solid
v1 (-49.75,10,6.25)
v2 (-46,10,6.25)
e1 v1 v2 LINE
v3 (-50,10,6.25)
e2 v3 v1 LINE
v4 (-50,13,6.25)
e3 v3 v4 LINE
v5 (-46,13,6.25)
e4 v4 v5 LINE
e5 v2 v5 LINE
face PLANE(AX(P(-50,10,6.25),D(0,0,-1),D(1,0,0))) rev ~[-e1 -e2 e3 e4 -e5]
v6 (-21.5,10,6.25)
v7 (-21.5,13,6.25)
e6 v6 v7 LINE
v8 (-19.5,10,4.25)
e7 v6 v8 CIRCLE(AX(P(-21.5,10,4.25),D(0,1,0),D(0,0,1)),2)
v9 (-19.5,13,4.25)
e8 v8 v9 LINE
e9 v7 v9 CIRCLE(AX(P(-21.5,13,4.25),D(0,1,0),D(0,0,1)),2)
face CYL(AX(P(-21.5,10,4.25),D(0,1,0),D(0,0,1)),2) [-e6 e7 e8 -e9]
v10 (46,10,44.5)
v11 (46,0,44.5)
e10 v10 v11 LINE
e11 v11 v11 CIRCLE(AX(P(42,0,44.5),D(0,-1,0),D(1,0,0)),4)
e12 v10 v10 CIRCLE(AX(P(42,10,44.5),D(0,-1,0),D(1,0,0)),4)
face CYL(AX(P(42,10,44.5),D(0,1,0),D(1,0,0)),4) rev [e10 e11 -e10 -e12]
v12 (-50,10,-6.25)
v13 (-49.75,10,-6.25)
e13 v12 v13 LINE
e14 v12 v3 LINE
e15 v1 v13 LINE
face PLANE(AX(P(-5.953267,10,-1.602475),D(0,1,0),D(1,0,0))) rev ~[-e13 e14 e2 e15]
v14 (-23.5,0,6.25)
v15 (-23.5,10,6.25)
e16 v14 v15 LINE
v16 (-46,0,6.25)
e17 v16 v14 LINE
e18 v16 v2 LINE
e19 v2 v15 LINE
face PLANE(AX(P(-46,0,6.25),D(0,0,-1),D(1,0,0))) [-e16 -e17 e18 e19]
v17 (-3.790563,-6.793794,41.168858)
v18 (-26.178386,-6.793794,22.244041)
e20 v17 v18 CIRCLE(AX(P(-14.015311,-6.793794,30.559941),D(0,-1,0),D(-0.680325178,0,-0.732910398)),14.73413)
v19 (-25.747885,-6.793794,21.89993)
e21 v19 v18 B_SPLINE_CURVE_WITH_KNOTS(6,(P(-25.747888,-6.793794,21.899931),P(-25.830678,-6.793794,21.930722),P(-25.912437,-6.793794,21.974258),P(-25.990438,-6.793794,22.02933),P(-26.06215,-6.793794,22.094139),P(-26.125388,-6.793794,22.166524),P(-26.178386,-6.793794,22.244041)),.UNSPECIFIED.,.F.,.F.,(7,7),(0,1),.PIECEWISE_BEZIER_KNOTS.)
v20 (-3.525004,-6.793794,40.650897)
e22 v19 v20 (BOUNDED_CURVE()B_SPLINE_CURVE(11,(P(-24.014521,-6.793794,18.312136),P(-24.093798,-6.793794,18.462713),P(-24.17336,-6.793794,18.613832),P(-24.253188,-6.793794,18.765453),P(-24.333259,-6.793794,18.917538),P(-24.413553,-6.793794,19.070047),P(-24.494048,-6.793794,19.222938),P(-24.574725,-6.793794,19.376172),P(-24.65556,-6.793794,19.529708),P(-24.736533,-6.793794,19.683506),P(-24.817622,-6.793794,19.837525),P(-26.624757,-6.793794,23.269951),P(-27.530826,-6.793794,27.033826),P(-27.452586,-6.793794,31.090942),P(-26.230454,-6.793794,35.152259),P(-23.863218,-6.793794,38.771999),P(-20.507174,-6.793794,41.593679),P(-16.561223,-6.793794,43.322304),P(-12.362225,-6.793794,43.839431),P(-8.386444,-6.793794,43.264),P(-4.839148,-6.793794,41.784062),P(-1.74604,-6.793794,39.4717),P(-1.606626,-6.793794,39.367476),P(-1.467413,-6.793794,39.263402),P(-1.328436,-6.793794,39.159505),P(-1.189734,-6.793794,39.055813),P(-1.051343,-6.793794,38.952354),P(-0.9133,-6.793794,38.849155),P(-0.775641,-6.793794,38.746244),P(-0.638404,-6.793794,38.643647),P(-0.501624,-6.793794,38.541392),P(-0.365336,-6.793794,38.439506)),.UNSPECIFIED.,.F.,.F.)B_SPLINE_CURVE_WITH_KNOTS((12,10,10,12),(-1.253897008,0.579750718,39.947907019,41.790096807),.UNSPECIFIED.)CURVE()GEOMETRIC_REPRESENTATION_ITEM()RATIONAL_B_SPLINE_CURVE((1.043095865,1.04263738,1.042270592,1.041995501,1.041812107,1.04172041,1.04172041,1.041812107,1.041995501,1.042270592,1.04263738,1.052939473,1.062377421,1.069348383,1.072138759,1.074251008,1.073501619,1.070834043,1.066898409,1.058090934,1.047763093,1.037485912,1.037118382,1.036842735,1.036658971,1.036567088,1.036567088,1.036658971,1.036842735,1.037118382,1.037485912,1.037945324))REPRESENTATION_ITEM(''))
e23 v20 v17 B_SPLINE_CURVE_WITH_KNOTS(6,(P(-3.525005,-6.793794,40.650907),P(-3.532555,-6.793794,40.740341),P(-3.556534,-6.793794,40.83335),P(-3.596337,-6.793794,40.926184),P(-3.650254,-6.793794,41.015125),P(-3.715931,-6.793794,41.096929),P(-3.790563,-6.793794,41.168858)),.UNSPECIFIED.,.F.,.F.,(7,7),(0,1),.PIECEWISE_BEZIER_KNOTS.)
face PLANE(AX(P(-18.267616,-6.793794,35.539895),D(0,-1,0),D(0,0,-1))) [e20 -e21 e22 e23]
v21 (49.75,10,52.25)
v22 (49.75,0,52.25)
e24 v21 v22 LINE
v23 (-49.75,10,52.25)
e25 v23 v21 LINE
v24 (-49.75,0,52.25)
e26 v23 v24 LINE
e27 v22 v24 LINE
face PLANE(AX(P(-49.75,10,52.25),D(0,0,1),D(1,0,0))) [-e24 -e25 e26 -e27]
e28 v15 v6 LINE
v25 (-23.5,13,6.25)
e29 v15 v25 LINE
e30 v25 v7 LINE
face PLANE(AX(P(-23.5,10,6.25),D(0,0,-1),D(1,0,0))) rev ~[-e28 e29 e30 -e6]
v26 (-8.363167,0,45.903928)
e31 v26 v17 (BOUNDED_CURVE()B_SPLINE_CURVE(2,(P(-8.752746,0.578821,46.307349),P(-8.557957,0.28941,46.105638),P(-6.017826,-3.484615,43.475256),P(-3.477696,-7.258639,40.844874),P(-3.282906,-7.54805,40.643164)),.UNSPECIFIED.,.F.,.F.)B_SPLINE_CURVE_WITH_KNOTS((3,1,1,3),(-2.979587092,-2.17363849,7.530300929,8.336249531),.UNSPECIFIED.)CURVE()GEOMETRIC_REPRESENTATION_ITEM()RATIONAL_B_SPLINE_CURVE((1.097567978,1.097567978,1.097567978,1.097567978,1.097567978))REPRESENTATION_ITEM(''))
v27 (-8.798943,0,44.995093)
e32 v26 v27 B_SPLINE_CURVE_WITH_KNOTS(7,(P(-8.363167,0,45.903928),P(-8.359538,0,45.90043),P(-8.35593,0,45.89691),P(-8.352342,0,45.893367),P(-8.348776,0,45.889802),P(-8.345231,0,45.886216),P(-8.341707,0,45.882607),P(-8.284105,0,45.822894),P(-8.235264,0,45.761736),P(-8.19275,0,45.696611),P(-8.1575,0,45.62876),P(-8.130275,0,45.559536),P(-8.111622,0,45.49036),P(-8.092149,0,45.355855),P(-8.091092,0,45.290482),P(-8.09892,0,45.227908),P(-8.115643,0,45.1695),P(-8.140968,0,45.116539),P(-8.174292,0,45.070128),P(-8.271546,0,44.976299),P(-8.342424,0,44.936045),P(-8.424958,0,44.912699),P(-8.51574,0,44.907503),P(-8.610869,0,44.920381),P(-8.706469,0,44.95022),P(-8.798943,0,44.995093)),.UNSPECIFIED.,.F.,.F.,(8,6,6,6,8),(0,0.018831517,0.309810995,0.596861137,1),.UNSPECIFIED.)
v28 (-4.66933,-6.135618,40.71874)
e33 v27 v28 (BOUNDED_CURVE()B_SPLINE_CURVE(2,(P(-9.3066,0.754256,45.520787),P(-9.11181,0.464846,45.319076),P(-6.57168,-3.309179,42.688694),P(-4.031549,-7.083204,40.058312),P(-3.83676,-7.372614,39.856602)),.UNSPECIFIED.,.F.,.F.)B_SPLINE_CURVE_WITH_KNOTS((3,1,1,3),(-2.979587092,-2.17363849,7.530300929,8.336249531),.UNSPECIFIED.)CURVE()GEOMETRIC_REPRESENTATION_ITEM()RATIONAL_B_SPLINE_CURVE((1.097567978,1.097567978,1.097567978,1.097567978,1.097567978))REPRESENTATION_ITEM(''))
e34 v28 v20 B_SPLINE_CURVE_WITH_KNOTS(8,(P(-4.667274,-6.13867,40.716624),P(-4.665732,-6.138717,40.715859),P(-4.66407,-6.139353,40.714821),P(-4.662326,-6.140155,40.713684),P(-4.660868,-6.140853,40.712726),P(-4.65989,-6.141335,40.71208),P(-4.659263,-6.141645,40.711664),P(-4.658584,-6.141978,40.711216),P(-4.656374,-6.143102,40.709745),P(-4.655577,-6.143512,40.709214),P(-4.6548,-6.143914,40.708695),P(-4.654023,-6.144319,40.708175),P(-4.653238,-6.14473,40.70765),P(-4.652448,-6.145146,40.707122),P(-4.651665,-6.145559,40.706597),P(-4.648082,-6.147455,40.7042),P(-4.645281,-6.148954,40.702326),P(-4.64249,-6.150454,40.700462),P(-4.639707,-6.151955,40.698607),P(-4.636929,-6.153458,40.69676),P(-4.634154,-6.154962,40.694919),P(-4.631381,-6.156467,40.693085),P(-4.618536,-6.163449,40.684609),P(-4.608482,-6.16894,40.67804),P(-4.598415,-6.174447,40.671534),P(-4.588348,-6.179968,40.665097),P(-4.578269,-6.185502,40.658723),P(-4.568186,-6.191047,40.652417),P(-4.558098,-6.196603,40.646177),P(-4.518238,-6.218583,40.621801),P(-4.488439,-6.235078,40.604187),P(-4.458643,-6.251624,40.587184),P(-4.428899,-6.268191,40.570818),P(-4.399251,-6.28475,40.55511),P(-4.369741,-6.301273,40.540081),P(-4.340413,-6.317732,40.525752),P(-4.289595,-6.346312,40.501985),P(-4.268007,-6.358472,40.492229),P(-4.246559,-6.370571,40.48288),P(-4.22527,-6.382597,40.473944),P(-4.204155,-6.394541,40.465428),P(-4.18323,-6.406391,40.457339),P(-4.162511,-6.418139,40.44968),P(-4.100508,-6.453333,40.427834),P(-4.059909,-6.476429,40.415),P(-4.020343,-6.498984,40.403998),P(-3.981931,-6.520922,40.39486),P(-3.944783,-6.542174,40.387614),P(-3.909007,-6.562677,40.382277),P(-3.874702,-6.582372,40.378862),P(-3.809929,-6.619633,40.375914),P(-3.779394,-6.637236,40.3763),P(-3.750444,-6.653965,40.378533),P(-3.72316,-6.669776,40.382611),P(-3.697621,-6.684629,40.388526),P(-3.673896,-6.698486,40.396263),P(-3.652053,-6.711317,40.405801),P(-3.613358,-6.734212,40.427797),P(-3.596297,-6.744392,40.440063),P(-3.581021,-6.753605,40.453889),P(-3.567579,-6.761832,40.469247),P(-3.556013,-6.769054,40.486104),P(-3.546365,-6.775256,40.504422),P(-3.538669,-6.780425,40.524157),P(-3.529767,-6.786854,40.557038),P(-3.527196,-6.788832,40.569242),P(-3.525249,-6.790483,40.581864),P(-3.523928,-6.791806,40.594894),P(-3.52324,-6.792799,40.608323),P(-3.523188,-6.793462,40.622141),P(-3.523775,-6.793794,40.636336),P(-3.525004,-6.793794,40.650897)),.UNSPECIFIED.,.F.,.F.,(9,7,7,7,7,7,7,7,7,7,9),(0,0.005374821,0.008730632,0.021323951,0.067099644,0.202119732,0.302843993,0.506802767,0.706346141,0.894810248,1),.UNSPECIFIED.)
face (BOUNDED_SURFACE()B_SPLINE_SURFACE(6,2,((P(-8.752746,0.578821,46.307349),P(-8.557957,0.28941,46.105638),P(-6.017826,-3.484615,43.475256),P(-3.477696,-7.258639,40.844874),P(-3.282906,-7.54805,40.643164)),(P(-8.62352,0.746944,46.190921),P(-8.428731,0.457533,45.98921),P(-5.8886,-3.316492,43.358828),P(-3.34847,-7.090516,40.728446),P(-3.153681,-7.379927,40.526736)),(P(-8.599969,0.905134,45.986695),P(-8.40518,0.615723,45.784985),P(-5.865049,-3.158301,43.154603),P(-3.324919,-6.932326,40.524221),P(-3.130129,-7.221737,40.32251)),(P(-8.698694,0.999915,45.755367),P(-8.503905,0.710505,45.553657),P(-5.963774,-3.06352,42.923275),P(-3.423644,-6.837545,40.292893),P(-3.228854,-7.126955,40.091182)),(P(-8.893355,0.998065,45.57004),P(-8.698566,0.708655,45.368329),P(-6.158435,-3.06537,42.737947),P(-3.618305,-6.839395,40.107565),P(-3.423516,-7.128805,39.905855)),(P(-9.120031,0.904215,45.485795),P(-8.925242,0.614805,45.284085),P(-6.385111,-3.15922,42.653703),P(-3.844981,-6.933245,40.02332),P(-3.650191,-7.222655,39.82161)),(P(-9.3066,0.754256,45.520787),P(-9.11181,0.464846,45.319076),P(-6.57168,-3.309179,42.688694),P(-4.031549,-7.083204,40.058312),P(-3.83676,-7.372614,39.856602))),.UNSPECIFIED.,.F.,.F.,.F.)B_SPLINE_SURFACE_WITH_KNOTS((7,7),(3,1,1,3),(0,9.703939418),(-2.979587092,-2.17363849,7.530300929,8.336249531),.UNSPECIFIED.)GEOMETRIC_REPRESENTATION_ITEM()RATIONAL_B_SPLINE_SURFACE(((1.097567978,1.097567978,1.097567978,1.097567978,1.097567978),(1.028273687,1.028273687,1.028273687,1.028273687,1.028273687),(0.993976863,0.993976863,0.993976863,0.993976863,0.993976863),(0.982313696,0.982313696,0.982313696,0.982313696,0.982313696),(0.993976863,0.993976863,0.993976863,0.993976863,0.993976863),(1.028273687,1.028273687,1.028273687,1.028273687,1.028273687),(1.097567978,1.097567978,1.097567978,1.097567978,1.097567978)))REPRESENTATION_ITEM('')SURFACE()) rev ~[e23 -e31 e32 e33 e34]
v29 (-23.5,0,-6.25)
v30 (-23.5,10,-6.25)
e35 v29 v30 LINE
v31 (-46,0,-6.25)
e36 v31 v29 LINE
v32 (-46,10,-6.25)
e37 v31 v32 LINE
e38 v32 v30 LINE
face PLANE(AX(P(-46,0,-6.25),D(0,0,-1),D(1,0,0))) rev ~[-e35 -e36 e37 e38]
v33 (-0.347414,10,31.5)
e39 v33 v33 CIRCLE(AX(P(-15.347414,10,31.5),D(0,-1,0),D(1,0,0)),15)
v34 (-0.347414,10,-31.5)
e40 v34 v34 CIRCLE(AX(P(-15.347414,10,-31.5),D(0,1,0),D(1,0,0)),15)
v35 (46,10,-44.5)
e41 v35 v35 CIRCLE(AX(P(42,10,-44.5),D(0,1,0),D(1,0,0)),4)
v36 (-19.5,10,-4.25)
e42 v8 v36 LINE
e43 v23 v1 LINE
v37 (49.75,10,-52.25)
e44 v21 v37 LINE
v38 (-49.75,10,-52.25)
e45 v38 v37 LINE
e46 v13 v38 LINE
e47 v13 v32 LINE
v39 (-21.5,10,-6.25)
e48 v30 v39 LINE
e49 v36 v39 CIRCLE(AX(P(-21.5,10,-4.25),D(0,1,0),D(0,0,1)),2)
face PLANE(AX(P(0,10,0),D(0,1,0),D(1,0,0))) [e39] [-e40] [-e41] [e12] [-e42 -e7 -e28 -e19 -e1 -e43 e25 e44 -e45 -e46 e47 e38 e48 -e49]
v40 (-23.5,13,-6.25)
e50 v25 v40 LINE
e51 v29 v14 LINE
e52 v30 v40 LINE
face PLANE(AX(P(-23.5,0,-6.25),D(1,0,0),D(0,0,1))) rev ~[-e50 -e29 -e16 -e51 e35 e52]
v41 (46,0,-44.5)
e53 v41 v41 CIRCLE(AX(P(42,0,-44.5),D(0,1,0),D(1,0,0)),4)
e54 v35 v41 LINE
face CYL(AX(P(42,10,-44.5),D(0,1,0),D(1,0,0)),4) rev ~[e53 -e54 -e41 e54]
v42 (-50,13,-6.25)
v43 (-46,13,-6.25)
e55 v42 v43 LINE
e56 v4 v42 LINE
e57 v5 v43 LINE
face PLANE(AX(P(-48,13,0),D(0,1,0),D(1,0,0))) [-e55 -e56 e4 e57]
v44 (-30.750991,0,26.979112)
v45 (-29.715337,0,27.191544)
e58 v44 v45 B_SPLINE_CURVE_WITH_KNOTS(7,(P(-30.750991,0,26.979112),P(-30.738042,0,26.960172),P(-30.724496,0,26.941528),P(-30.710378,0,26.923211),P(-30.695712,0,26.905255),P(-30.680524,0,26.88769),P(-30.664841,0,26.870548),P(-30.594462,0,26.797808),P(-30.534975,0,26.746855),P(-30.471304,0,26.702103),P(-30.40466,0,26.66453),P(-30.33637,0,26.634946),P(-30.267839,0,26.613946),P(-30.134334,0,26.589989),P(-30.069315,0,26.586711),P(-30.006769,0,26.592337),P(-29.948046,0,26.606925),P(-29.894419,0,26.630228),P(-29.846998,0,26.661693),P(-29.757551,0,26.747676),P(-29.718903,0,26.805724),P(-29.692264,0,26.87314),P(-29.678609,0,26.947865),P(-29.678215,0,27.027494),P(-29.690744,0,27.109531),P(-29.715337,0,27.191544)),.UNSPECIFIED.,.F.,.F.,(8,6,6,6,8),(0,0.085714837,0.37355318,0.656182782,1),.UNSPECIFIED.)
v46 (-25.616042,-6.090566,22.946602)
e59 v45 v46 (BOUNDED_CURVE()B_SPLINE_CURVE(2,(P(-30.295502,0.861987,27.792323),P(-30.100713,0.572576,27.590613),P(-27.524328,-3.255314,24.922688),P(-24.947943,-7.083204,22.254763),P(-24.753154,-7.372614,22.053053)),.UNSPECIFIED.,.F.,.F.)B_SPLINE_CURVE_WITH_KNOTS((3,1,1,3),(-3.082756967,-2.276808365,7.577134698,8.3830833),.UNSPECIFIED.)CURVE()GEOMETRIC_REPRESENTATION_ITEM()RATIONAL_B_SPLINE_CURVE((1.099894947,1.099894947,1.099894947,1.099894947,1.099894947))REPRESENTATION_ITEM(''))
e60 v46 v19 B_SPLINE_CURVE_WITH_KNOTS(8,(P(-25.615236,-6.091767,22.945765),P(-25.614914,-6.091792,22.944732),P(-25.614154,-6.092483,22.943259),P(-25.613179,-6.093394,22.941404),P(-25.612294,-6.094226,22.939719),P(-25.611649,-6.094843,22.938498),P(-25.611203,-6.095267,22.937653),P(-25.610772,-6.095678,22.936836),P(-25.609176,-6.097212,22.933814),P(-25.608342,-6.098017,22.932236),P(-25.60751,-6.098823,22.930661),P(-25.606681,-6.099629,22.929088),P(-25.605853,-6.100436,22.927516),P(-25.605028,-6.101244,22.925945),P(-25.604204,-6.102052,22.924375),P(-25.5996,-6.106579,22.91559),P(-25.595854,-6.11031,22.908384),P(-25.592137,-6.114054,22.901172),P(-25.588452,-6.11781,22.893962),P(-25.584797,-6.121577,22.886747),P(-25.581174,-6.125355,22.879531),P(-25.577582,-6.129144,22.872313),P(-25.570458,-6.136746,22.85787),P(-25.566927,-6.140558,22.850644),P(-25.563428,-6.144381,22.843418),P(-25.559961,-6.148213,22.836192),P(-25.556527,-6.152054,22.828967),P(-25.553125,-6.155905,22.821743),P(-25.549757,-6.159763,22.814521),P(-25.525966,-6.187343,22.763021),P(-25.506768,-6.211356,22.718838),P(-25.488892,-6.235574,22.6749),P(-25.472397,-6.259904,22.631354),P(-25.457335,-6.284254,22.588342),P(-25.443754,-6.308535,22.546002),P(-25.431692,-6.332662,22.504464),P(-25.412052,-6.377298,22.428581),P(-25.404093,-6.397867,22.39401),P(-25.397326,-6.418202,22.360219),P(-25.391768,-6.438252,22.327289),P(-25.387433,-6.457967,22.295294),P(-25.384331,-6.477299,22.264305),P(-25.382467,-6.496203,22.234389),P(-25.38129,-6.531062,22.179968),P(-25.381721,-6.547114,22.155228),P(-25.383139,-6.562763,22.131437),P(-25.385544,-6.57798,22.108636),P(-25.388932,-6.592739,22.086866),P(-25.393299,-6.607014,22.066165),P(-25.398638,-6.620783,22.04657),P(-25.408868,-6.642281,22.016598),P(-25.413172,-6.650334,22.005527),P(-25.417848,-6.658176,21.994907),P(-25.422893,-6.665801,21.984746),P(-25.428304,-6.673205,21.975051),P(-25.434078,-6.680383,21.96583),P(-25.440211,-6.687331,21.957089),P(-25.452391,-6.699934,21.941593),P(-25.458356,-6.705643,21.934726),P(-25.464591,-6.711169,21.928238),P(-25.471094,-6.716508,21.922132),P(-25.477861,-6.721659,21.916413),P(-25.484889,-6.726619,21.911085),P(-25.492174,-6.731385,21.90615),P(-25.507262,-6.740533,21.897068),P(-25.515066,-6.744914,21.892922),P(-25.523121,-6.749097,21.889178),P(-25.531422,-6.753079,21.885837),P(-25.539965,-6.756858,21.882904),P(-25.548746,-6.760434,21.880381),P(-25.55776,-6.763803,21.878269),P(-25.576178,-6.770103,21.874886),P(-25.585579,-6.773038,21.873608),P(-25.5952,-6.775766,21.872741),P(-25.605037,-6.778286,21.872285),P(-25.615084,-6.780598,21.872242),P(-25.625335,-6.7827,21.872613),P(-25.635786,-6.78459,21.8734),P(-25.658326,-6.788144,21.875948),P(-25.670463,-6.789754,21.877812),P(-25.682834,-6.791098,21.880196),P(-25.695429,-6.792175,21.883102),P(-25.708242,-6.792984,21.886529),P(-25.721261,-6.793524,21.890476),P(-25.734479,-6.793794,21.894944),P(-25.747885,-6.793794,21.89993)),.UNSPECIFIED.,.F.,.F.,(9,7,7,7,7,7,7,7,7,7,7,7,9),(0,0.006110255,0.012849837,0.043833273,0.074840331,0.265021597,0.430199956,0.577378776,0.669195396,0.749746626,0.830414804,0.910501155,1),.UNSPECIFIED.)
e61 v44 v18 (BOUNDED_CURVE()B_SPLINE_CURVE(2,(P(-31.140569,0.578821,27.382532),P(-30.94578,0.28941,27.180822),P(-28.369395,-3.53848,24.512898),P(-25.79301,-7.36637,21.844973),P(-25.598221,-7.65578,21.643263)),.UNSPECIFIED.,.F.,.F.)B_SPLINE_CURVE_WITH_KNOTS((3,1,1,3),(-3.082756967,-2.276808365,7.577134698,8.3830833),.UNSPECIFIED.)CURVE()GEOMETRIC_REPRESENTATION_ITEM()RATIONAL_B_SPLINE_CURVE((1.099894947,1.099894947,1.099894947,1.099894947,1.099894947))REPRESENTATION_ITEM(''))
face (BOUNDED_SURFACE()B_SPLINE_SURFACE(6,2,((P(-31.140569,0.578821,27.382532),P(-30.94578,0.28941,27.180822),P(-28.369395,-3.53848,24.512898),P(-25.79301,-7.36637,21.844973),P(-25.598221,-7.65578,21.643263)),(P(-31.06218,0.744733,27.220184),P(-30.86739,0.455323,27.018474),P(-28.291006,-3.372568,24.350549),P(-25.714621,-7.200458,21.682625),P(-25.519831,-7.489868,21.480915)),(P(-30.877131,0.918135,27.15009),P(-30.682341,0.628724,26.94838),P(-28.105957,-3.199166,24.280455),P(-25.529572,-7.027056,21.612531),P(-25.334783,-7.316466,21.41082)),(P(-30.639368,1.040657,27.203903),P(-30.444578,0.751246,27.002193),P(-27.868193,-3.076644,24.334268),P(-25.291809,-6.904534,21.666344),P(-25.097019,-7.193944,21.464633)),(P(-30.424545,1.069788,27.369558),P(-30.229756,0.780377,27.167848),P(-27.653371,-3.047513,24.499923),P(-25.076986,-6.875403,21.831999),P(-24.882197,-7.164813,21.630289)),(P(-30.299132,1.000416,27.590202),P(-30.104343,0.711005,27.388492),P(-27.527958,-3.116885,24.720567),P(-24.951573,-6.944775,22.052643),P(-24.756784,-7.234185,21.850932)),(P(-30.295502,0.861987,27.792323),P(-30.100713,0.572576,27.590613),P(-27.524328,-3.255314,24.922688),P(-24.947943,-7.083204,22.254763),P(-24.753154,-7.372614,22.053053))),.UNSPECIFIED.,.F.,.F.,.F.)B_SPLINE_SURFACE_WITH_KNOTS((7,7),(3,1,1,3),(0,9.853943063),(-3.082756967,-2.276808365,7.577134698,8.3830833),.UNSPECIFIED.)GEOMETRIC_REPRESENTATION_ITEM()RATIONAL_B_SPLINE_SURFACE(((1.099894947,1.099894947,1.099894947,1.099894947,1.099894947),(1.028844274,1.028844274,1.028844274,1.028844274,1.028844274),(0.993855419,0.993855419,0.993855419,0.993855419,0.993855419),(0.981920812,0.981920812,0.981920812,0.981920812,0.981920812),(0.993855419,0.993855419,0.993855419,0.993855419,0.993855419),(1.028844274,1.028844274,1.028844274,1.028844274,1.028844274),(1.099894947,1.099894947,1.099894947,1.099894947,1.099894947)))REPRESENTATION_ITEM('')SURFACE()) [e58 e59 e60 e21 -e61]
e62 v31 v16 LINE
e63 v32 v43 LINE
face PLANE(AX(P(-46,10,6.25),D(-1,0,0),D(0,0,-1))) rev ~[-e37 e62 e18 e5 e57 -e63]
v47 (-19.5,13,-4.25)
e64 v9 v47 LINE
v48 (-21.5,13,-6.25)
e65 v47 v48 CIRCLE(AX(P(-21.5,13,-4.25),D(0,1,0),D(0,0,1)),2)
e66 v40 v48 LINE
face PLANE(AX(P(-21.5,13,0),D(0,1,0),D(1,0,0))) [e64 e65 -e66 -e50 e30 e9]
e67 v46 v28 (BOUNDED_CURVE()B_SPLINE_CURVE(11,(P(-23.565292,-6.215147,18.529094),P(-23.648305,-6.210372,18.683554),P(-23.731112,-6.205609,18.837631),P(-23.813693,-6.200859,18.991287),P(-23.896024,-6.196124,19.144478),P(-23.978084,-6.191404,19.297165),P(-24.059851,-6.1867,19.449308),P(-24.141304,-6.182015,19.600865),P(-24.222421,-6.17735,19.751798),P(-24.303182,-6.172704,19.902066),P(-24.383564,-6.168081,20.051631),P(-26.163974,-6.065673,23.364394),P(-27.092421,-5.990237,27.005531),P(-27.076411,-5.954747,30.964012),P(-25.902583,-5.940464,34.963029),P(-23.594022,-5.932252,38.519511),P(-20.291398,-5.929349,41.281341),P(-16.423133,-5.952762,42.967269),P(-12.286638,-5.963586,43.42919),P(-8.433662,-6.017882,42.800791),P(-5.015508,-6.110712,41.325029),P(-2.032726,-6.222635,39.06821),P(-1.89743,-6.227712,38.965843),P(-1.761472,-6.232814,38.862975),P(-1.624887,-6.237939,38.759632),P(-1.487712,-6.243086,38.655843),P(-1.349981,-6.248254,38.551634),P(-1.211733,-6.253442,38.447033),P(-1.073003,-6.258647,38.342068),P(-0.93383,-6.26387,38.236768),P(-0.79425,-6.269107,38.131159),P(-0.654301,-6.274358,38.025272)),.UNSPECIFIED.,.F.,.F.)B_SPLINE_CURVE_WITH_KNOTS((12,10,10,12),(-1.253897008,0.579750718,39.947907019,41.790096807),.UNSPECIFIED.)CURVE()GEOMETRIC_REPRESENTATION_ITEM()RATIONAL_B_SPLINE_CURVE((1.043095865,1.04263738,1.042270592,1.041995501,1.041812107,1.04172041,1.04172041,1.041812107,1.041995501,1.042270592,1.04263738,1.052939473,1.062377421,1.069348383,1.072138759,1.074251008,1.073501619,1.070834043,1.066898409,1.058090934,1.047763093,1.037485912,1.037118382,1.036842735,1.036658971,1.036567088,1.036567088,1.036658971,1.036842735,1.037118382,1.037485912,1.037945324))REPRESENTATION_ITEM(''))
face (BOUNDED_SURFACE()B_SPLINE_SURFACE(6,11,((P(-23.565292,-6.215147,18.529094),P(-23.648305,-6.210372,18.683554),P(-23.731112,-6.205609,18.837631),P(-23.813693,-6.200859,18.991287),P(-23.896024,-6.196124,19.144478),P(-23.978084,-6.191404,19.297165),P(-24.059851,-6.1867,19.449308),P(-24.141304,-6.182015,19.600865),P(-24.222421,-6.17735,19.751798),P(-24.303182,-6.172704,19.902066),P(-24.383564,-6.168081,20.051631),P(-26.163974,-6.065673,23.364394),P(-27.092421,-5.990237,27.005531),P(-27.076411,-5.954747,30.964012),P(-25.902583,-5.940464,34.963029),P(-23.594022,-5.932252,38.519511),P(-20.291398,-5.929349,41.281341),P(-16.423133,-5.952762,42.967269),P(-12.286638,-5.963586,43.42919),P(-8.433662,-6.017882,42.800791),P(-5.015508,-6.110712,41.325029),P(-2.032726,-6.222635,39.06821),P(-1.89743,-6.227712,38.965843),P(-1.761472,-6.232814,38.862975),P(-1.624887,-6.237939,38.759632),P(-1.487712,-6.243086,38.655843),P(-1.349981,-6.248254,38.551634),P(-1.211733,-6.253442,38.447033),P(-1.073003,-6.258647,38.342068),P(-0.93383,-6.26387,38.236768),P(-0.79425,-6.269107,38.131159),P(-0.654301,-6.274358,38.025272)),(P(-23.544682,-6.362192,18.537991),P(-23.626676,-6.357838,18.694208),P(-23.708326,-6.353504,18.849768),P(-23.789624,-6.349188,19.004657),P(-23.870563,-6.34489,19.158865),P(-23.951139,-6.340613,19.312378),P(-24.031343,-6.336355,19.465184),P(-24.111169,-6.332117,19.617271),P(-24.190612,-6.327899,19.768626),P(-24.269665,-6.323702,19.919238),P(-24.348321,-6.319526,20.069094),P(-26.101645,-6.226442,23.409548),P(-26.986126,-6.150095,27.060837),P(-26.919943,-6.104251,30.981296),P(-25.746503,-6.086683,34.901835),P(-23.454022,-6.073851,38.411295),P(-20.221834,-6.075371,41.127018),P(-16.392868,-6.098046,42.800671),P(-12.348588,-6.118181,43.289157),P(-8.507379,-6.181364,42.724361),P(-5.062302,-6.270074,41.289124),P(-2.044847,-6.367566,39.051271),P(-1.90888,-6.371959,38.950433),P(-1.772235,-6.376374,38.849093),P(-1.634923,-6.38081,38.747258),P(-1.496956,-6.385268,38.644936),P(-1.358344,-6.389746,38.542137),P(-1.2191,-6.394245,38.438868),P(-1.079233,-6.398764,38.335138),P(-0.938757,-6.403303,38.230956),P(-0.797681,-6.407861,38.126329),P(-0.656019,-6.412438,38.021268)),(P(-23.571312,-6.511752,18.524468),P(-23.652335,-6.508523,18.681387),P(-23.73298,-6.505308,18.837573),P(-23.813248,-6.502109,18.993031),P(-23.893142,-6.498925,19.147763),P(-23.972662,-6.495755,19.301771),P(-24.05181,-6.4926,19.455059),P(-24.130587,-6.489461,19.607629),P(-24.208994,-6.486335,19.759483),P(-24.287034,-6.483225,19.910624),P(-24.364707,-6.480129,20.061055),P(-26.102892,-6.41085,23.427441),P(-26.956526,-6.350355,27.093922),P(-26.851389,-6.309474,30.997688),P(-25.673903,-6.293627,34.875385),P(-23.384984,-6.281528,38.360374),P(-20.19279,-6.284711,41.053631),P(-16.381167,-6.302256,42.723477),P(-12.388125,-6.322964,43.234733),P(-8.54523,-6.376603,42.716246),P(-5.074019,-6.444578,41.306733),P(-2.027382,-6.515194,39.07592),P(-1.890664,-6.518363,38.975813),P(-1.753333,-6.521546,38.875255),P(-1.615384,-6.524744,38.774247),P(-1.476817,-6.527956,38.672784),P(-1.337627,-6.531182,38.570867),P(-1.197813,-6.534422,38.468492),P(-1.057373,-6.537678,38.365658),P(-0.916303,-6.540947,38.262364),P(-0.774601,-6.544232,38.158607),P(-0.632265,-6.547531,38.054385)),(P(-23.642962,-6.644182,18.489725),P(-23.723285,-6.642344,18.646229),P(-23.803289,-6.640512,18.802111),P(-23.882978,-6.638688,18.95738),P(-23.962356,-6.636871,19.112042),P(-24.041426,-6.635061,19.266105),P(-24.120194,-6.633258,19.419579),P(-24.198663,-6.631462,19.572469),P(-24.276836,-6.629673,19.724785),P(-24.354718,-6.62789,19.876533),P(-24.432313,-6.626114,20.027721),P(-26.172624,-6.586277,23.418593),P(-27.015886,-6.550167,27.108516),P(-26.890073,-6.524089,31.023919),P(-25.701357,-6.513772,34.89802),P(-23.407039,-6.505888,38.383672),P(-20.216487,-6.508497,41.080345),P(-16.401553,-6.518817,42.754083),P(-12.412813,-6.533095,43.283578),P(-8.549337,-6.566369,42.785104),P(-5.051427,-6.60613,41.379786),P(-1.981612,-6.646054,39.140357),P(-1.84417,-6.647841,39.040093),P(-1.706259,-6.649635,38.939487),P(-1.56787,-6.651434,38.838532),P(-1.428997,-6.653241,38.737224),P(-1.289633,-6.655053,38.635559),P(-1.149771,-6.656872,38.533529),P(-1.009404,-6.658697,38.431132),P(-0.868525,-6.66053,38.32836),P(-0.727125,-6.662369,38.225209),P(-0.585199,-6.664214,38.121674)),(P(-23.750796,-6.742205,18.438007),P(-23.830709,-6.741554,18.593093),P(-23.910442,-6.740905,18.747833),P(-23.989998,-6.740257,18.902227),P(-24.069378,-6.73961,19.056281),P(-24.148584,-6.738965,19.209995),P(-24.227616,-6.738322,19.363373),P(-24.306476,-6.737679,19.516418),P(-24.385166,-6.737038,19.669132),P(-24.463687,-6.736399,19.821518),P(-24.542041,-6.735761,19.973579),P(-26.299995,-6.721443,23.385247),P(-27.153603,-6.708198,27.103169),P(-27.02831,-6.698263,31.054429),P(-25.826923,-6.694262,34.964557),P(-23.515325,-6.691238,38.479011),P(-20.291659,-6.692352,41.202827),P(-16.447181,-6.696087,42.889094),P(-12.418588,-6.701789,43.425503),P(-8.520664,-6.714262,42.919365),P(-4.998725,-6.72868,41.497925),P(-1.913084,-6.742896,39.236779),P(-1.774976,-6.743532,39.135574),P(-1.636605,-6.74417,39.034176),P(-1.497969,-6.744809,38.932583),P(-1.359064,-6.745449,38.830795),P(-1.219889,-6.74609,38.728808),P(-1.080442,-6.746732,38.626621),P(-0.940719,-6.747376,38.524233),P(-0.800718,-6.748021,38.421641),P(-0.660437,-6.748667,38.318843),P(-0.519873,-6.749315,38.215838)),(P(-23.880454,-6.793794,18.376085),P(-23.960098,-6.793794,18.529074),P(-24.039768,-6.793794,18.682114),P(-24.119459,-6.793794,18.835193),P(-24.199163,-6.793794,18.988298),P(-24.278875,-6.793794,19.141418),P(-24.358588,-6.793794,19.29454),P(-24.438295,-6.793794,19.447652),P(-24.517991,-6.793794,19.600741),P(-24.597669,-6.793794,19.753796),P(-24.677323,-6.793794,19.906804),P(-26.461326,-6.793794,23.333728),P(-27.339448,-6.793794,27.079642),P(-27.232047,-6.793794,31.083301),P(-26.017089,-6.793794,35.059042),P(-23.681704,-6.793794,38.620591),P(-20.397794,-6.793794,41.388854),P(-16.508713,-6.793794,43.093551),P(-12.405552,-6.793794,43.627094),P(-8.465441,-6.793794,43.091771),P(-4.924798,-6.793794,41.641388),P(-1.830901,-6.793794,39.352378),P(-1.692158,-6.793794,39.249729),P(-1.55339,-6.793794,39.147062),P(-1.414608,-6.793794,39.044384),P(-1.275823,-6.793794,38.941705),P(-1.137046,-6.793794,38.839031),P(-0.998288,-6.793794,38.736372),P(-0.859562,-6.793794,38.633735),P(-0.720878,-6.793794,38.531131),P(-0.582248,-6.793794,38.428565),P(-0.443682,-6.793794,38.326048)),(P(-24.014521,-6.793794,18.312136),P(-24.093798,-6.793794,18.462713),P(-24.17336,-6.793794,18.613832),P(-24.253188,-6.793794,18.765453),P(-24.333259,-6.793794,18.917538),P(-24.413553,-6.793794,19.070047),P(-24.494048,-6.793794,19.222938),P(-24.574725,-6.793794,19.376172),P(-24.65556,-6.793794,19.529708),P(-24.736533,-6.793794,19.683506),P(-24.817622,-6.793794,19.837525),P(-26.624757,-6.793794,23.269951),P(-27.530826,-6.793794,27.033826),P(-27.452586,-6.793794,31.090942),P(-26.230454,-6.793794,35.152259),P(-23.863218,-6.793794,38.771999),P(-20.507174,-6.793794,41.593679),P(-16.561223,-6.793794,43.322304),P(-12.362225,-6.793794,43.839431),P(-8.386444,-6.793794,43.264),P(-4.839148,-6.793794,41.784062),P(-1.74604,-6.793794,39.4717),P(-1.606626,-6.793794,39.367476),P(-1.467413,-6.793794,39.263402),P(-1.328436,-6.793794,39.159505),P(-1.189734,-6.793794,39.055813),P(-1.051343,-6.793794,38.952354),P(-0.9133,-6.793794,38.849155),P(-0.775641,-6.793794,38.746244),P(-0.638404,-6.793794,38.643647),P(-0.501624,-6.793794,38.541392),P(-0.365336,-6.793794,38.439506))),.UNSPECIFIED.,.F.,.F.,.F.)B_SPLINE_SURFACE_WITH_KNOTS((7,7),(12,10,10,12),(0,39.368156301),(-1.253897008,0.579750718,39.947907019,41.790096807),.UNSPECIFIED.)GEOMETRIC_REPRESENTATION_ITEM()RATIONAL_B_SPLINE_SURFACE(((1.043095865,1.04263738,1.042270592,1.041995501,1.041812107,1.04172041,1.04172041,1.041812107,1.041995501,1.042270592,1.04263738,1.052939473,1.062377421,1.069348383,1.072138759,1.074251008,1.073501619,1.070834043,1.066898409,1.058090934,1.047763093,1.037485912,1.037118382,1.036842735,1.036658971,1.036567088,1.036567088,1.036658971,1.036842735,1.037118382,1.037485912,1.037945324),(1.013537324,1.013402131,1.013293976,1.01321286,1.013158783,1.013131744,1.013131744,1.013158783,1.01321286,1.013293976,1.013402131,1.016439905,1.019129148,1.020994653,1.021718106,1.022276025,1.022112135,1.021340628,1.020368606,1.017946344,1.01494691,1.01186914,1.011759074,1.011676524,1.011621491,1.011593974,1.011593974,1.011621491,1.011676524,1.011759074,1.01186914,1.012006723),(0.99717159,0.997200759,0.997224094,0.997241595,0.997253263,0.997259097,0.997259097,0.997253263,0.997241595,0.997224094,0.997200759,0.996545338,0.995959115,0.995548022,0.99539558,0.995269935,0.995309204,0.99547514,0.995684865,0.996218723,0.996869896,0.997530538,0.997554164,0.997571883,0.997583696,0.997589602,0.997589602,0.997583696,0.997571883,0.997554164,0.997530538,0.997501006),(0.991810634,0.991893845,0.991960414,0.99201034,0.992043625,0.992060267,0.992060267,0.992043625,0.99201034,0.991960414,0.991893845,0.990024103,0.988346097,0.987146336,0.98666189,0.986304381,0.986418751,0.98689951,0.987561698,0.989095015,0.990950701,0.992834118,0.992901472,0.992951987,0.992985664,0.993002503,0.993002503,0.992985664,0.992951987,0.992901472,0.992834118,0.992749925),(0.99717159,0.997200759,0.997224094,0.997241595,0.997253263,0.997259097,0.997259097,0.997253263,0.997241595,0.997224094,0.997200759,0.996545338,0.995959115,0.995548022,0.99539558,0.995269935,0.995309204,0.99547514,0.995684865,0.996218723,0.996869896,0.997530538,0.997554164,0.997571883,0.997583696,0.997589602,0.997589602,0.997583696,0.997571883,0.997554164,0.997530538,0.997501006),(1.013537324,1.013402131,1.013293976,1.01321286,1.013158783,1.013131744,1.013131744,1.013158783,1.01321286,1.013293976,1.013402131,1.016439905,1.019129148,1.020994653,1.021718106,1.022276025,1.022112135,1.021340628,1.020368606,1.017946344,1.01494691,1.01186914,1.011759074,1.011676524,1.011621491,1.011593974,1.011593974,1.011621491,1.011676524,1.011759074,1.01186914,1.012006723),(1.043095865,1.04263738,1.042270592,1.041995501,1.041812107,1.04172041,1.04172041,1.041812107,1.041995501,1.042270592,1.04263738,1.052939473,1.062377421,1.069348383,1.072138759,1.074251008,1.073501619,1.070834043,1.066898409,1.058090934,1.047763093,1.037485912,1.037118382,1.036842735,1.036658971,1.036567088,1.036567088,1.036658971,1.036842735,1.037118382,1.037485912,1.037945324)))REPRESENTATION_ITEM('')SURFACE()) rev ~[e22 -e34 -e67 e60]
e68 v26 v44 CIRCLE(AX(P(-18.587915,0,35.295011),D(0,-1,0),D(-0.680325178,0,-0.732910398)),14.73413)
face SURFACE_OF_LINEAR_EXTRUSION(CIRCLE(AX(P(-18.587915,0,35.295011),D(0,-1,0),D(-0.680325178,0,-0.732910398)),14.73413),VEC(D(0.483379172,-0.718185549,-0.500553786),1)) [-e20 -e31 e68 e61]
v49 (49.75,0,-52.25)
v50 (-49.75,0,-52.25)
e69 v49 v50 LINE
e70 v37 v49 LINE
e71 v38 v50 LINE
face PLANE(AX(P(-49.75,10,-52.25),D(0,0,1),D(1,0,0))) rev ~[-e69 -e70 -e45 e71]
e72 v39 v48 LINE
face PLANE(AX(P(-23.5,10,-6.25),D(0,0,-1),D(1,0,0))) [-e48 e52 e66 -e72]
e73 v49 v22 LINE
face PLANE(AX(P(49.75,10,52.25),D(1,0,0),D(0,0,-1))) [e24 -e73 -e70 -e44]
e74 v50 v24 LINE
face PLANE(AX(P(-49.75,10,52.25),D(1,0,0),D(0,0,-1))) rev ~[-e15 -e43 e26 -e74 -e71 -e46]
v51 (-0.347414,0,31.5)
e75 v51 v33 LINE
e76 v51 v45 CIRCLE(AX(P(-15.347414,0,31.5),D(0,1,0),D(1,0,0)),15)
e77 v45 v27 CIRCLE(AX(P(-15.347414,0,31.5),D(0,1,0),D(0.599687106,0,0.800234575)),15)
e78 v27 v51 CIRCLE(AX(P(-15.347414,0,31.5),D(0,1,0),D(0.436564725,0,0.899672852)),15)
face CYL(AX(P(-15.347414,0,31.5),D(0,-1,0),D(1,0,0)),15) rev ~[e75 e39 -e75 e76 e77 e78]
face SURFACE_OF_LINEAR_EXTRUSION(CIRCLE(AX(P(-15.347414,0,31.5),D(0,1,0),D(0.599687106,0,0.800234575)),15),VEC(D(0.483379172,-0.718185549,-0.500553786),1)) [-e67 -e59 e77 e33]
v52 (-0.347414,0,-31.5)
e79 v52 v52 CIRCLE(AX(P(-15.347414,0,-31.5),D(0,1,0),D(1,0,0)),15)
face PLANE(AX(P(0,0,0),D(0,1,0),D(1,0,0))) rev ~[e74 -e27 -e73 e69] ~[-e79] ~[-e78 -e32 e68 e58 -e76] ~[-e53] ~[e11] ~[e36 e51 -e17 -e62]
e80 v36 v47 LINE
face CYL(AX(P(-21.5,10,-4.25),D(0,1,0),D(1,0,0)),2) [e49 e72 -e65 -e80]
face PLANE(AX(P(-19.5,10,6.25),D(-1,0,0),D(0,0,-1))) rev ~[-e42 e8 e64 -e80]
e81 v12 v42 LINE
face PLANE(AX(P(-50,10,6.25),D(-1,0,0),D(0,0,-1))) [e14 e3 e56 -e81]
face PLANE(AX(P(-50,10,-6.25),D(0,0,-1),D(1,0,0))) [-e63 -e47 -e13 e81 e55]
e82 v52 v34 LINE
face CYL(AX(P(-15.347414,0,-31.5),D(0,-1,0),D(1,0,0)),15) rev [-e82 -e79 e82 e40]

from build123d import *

# Parameters (mm, degrees)
SKETCH2_W           = 100
SKETCH2_H           = 105
BOSS_EXTRUDE1_DEPTH = 10
CUT_EXTRUDE1_REACH  = 75.186
SKETCH5_R           = 15
SKETCH5_R_2         = 5
CUT_EXTRUDE2_REACH  = 75.186
SKETCH6_W           = 22.5
SKETCH6_H           = 12.5
FILLET2_R           = 0.5
CUT_EXTRUDE3_REACH  = 76.42
SKETCH12_R          = 4
SKETCH13_W          = 4
SKETCH13_H          = 12.5
BOSS_EXTRUDE2_DEPTH = 3
FILLET3_R           = 2
CUT_EXTRUDE6_REACH  = 76.42
SKETCH14_W          = 154.448813283
SKETCH14_H          = 123.004866117
SKETCH14_W_2        = 99.5
SKETCH14_H_2        = 104.5


with BuildPart() as part:
    # Sketch2 → Boss-Extrude1 (new body)
    with BuildSketch(Plane(origin=(0, 0, 0), x_dir=(1, 0, 0), z_dir=(0, 1, 0))):
        Rectangle(SKETCH2_W, SKETCH2_H)
    extrude(amount=BOSS_EXTRUDE1_DEPTH)

    # Sketch5 → Cut-Extrude1 (cut, up to next)
    with BuildSketch(Plane.XZ, mode=Mode.PRIVATE) as cut_extrude1_sk1:
        with Locations((-15.347413929, 31.5)):
            Circle(SKETCH5_R)
    cut_extrude1_tool1 = extrude(cut_extrude1_sk1.sketch, amount=-CUT_EXTRUDE1_REACH, mode=Mode.PRIVATE) & part.part
    # Sketch5 → Cut-Extrude1 (cut, up to next)
    with BuildSketch(Plane.XZ, mode=Mode.PRIVATE) as cut_extrude1_sk2:
        with Locations((-40, 0)):
            Circle(SKETCH5_R_2)
    cut_extrude1_tool2 = extrude(cut_extrude1_sk2.sketch, amount=-CUT_EXTRUDE1_REACH, mode=Mode.PRIVATE) & part.part
    cut_extrude1_1 = cut_extrude1_tool1.solids().sort_by_distance((-15.347414, 0, 31.5))[0]
    add(cut_extrude1_1, mode=Mode.SUBTRACT)
    cut_extrude1_2 = cut_extrude1_tool2.solids().sort_by_distance((-40, 0, 0))[0]
    add(cut_extrude1_2, mode=Mode.SUBTRACT)
    cut_extrude1 = cut_extrude1_1 + cut_extrude1_2  # Cut-Extrude1 as one shape, for the pattern or mirror that repeats it

    # Mirror1: Cut-Extrude1 across plane
    add(cut_extrude1.mirror(Plane.XY), mode=Mode.SUBTRACT)

    # Sketch6 → Cut-Extrude2 (cut, up to next)
    with BuildSketch(Plane.XZ, mode=Mode.PRIVATE) as cut_extrude2_sk1:
        with Locations((-34.75, 0)):
            Rectangle(SKETCH6_W, SKETCH6_H)
    cut_extrude2_tool1 = extrude(cut_extrude2_sk1.sketch, amount=-CUT_EXTRUDE2_REACH, mode=Mode.PRIVATE) & part.part
    add(cut_extrude2_tool1.solids().sort_by_distance((-34.75, 0, 0))[0], mode=Mode.SUBTRACT)

    # Sweep1: sweep along a path in Sketch11
    with BuildLine(Plane(origin=(7.914589695, 0, 7.643030426), x_dir=(0, -1, 0), z_dir=(0.7193398003386426, 0, 0.6946583704590061))) as sweep1_path:
        Line((0, -49.687749169), (6.793793585, -43.105226771))
    # Sketch7 → Sweep1 (sweep)
    with BuildSketch(Plane.XZ):
        with BuildLine():
            ThreePointArc((-6.352107338, 43.503518623), (-25.0878405, 42.907194669), (-28.61191488, 24.496214272))
            ThreePointArc((-28.61191488, 24.496214272), (-28.155696018, 46.500017309), (-6.352107338, 43.503518623))
        make_face()
    sweep(path=sweep1_path.line)

    # Fillet2
    fillet2_edges = [part.edges().sort_by_distance(p)[0] for p in [
        (-26.325612738, -3.396896793, 22.128679098),
        (-4.065805196, -3.396896793, 41.135983449),
        (-20.515236217, -6.793793585, 38.172124321),
    ]]
    fillet(fillet2_edges, radius=FILLET2_R)

    # Sketch12 → Cut-Extrude3 (cut, up to next)
    with BuildSketch(Plane(origin=(0, 10, 0), x_dir=(1, 0, 0), z_dir=(0, 1, 0)), mode=Mode.PRIVATE) as cut_extrude3_sk1:
        with Locations((42, 44.5)):
            Circle(SKETCH12_R)
    cut_extrude3_tool1 = extrude(cut_extrude3_sk1.sketch, amount=-CUT_EXTRUDE3_REACH, mode=Mode.PRIVATE) & part.part
    cut_extrude3 = cut_extrude3_tool1.solids().sort_by_distance((42, 10, -44.5))[0]
    add(cut_extrude3, mode=Mode.SUBTRACT)

    # Mirror2: Cut-Extrude3 across plane
    add(cut_extrude3.mirror(Plane.XY), mode=Mode.SUBTRACT)

    # Sketch13 → Boss-Extrude2 (add)
    with BuildSketch(Plane(origin=(0, 10, 0), x_dir=(1, 0, 0), z_dir=(0, 1, 0))):
        with Locations((-48, 0)):
            Rectangle(SKETCH13_W, SKETCH13_H)
        with Locations((-21.5, 0)):
            Rectangle(SKETCH13_W, SKETCH13_H)
    extrude(amount=BOSS_EXTRUDE2_DEPTH)

    # Fillet3
    fillet3_edges = [part.edges().sort_by_distance(p)[0] for p in [
        (-19.5, 11.5, -6.25),
        (-19.5, 11.5, 6.25),
    ]]
    fillet(fillet3_edges, radius=FILLET3_R)

    # Sketch14 → Cut-Extrude6 (cut, up to next)
    with BuildSketch(Plane(origin=(0, 10, 0), x_dir=(1, 0, 0), z_dir=(0, 1, 0)), mode=Mode.PRIVATE) as cut_extrude6_sk1:
        with Locations((-5.953267194, 1.602475316)):
            Rectangle(SKETCH14_W, SKETCH14_H)
        Rectangle(SKETCH14_W_2, SKETCH14_H_2, mode=Mode.SUBTRACT)
    cut_extrude6_tool1 = extrude(cut_extrude6_sk1.sketch, amount=-CUT_EXTRUDE6_REACH, mode=Mode.PRIVATE) & part.part
    add(cut_extrude6_tool1.solids().sort_by_distance((-5.953267, 10, -61.130456))[0], mode=Mode.SUBTRACT)


solid = part.part
